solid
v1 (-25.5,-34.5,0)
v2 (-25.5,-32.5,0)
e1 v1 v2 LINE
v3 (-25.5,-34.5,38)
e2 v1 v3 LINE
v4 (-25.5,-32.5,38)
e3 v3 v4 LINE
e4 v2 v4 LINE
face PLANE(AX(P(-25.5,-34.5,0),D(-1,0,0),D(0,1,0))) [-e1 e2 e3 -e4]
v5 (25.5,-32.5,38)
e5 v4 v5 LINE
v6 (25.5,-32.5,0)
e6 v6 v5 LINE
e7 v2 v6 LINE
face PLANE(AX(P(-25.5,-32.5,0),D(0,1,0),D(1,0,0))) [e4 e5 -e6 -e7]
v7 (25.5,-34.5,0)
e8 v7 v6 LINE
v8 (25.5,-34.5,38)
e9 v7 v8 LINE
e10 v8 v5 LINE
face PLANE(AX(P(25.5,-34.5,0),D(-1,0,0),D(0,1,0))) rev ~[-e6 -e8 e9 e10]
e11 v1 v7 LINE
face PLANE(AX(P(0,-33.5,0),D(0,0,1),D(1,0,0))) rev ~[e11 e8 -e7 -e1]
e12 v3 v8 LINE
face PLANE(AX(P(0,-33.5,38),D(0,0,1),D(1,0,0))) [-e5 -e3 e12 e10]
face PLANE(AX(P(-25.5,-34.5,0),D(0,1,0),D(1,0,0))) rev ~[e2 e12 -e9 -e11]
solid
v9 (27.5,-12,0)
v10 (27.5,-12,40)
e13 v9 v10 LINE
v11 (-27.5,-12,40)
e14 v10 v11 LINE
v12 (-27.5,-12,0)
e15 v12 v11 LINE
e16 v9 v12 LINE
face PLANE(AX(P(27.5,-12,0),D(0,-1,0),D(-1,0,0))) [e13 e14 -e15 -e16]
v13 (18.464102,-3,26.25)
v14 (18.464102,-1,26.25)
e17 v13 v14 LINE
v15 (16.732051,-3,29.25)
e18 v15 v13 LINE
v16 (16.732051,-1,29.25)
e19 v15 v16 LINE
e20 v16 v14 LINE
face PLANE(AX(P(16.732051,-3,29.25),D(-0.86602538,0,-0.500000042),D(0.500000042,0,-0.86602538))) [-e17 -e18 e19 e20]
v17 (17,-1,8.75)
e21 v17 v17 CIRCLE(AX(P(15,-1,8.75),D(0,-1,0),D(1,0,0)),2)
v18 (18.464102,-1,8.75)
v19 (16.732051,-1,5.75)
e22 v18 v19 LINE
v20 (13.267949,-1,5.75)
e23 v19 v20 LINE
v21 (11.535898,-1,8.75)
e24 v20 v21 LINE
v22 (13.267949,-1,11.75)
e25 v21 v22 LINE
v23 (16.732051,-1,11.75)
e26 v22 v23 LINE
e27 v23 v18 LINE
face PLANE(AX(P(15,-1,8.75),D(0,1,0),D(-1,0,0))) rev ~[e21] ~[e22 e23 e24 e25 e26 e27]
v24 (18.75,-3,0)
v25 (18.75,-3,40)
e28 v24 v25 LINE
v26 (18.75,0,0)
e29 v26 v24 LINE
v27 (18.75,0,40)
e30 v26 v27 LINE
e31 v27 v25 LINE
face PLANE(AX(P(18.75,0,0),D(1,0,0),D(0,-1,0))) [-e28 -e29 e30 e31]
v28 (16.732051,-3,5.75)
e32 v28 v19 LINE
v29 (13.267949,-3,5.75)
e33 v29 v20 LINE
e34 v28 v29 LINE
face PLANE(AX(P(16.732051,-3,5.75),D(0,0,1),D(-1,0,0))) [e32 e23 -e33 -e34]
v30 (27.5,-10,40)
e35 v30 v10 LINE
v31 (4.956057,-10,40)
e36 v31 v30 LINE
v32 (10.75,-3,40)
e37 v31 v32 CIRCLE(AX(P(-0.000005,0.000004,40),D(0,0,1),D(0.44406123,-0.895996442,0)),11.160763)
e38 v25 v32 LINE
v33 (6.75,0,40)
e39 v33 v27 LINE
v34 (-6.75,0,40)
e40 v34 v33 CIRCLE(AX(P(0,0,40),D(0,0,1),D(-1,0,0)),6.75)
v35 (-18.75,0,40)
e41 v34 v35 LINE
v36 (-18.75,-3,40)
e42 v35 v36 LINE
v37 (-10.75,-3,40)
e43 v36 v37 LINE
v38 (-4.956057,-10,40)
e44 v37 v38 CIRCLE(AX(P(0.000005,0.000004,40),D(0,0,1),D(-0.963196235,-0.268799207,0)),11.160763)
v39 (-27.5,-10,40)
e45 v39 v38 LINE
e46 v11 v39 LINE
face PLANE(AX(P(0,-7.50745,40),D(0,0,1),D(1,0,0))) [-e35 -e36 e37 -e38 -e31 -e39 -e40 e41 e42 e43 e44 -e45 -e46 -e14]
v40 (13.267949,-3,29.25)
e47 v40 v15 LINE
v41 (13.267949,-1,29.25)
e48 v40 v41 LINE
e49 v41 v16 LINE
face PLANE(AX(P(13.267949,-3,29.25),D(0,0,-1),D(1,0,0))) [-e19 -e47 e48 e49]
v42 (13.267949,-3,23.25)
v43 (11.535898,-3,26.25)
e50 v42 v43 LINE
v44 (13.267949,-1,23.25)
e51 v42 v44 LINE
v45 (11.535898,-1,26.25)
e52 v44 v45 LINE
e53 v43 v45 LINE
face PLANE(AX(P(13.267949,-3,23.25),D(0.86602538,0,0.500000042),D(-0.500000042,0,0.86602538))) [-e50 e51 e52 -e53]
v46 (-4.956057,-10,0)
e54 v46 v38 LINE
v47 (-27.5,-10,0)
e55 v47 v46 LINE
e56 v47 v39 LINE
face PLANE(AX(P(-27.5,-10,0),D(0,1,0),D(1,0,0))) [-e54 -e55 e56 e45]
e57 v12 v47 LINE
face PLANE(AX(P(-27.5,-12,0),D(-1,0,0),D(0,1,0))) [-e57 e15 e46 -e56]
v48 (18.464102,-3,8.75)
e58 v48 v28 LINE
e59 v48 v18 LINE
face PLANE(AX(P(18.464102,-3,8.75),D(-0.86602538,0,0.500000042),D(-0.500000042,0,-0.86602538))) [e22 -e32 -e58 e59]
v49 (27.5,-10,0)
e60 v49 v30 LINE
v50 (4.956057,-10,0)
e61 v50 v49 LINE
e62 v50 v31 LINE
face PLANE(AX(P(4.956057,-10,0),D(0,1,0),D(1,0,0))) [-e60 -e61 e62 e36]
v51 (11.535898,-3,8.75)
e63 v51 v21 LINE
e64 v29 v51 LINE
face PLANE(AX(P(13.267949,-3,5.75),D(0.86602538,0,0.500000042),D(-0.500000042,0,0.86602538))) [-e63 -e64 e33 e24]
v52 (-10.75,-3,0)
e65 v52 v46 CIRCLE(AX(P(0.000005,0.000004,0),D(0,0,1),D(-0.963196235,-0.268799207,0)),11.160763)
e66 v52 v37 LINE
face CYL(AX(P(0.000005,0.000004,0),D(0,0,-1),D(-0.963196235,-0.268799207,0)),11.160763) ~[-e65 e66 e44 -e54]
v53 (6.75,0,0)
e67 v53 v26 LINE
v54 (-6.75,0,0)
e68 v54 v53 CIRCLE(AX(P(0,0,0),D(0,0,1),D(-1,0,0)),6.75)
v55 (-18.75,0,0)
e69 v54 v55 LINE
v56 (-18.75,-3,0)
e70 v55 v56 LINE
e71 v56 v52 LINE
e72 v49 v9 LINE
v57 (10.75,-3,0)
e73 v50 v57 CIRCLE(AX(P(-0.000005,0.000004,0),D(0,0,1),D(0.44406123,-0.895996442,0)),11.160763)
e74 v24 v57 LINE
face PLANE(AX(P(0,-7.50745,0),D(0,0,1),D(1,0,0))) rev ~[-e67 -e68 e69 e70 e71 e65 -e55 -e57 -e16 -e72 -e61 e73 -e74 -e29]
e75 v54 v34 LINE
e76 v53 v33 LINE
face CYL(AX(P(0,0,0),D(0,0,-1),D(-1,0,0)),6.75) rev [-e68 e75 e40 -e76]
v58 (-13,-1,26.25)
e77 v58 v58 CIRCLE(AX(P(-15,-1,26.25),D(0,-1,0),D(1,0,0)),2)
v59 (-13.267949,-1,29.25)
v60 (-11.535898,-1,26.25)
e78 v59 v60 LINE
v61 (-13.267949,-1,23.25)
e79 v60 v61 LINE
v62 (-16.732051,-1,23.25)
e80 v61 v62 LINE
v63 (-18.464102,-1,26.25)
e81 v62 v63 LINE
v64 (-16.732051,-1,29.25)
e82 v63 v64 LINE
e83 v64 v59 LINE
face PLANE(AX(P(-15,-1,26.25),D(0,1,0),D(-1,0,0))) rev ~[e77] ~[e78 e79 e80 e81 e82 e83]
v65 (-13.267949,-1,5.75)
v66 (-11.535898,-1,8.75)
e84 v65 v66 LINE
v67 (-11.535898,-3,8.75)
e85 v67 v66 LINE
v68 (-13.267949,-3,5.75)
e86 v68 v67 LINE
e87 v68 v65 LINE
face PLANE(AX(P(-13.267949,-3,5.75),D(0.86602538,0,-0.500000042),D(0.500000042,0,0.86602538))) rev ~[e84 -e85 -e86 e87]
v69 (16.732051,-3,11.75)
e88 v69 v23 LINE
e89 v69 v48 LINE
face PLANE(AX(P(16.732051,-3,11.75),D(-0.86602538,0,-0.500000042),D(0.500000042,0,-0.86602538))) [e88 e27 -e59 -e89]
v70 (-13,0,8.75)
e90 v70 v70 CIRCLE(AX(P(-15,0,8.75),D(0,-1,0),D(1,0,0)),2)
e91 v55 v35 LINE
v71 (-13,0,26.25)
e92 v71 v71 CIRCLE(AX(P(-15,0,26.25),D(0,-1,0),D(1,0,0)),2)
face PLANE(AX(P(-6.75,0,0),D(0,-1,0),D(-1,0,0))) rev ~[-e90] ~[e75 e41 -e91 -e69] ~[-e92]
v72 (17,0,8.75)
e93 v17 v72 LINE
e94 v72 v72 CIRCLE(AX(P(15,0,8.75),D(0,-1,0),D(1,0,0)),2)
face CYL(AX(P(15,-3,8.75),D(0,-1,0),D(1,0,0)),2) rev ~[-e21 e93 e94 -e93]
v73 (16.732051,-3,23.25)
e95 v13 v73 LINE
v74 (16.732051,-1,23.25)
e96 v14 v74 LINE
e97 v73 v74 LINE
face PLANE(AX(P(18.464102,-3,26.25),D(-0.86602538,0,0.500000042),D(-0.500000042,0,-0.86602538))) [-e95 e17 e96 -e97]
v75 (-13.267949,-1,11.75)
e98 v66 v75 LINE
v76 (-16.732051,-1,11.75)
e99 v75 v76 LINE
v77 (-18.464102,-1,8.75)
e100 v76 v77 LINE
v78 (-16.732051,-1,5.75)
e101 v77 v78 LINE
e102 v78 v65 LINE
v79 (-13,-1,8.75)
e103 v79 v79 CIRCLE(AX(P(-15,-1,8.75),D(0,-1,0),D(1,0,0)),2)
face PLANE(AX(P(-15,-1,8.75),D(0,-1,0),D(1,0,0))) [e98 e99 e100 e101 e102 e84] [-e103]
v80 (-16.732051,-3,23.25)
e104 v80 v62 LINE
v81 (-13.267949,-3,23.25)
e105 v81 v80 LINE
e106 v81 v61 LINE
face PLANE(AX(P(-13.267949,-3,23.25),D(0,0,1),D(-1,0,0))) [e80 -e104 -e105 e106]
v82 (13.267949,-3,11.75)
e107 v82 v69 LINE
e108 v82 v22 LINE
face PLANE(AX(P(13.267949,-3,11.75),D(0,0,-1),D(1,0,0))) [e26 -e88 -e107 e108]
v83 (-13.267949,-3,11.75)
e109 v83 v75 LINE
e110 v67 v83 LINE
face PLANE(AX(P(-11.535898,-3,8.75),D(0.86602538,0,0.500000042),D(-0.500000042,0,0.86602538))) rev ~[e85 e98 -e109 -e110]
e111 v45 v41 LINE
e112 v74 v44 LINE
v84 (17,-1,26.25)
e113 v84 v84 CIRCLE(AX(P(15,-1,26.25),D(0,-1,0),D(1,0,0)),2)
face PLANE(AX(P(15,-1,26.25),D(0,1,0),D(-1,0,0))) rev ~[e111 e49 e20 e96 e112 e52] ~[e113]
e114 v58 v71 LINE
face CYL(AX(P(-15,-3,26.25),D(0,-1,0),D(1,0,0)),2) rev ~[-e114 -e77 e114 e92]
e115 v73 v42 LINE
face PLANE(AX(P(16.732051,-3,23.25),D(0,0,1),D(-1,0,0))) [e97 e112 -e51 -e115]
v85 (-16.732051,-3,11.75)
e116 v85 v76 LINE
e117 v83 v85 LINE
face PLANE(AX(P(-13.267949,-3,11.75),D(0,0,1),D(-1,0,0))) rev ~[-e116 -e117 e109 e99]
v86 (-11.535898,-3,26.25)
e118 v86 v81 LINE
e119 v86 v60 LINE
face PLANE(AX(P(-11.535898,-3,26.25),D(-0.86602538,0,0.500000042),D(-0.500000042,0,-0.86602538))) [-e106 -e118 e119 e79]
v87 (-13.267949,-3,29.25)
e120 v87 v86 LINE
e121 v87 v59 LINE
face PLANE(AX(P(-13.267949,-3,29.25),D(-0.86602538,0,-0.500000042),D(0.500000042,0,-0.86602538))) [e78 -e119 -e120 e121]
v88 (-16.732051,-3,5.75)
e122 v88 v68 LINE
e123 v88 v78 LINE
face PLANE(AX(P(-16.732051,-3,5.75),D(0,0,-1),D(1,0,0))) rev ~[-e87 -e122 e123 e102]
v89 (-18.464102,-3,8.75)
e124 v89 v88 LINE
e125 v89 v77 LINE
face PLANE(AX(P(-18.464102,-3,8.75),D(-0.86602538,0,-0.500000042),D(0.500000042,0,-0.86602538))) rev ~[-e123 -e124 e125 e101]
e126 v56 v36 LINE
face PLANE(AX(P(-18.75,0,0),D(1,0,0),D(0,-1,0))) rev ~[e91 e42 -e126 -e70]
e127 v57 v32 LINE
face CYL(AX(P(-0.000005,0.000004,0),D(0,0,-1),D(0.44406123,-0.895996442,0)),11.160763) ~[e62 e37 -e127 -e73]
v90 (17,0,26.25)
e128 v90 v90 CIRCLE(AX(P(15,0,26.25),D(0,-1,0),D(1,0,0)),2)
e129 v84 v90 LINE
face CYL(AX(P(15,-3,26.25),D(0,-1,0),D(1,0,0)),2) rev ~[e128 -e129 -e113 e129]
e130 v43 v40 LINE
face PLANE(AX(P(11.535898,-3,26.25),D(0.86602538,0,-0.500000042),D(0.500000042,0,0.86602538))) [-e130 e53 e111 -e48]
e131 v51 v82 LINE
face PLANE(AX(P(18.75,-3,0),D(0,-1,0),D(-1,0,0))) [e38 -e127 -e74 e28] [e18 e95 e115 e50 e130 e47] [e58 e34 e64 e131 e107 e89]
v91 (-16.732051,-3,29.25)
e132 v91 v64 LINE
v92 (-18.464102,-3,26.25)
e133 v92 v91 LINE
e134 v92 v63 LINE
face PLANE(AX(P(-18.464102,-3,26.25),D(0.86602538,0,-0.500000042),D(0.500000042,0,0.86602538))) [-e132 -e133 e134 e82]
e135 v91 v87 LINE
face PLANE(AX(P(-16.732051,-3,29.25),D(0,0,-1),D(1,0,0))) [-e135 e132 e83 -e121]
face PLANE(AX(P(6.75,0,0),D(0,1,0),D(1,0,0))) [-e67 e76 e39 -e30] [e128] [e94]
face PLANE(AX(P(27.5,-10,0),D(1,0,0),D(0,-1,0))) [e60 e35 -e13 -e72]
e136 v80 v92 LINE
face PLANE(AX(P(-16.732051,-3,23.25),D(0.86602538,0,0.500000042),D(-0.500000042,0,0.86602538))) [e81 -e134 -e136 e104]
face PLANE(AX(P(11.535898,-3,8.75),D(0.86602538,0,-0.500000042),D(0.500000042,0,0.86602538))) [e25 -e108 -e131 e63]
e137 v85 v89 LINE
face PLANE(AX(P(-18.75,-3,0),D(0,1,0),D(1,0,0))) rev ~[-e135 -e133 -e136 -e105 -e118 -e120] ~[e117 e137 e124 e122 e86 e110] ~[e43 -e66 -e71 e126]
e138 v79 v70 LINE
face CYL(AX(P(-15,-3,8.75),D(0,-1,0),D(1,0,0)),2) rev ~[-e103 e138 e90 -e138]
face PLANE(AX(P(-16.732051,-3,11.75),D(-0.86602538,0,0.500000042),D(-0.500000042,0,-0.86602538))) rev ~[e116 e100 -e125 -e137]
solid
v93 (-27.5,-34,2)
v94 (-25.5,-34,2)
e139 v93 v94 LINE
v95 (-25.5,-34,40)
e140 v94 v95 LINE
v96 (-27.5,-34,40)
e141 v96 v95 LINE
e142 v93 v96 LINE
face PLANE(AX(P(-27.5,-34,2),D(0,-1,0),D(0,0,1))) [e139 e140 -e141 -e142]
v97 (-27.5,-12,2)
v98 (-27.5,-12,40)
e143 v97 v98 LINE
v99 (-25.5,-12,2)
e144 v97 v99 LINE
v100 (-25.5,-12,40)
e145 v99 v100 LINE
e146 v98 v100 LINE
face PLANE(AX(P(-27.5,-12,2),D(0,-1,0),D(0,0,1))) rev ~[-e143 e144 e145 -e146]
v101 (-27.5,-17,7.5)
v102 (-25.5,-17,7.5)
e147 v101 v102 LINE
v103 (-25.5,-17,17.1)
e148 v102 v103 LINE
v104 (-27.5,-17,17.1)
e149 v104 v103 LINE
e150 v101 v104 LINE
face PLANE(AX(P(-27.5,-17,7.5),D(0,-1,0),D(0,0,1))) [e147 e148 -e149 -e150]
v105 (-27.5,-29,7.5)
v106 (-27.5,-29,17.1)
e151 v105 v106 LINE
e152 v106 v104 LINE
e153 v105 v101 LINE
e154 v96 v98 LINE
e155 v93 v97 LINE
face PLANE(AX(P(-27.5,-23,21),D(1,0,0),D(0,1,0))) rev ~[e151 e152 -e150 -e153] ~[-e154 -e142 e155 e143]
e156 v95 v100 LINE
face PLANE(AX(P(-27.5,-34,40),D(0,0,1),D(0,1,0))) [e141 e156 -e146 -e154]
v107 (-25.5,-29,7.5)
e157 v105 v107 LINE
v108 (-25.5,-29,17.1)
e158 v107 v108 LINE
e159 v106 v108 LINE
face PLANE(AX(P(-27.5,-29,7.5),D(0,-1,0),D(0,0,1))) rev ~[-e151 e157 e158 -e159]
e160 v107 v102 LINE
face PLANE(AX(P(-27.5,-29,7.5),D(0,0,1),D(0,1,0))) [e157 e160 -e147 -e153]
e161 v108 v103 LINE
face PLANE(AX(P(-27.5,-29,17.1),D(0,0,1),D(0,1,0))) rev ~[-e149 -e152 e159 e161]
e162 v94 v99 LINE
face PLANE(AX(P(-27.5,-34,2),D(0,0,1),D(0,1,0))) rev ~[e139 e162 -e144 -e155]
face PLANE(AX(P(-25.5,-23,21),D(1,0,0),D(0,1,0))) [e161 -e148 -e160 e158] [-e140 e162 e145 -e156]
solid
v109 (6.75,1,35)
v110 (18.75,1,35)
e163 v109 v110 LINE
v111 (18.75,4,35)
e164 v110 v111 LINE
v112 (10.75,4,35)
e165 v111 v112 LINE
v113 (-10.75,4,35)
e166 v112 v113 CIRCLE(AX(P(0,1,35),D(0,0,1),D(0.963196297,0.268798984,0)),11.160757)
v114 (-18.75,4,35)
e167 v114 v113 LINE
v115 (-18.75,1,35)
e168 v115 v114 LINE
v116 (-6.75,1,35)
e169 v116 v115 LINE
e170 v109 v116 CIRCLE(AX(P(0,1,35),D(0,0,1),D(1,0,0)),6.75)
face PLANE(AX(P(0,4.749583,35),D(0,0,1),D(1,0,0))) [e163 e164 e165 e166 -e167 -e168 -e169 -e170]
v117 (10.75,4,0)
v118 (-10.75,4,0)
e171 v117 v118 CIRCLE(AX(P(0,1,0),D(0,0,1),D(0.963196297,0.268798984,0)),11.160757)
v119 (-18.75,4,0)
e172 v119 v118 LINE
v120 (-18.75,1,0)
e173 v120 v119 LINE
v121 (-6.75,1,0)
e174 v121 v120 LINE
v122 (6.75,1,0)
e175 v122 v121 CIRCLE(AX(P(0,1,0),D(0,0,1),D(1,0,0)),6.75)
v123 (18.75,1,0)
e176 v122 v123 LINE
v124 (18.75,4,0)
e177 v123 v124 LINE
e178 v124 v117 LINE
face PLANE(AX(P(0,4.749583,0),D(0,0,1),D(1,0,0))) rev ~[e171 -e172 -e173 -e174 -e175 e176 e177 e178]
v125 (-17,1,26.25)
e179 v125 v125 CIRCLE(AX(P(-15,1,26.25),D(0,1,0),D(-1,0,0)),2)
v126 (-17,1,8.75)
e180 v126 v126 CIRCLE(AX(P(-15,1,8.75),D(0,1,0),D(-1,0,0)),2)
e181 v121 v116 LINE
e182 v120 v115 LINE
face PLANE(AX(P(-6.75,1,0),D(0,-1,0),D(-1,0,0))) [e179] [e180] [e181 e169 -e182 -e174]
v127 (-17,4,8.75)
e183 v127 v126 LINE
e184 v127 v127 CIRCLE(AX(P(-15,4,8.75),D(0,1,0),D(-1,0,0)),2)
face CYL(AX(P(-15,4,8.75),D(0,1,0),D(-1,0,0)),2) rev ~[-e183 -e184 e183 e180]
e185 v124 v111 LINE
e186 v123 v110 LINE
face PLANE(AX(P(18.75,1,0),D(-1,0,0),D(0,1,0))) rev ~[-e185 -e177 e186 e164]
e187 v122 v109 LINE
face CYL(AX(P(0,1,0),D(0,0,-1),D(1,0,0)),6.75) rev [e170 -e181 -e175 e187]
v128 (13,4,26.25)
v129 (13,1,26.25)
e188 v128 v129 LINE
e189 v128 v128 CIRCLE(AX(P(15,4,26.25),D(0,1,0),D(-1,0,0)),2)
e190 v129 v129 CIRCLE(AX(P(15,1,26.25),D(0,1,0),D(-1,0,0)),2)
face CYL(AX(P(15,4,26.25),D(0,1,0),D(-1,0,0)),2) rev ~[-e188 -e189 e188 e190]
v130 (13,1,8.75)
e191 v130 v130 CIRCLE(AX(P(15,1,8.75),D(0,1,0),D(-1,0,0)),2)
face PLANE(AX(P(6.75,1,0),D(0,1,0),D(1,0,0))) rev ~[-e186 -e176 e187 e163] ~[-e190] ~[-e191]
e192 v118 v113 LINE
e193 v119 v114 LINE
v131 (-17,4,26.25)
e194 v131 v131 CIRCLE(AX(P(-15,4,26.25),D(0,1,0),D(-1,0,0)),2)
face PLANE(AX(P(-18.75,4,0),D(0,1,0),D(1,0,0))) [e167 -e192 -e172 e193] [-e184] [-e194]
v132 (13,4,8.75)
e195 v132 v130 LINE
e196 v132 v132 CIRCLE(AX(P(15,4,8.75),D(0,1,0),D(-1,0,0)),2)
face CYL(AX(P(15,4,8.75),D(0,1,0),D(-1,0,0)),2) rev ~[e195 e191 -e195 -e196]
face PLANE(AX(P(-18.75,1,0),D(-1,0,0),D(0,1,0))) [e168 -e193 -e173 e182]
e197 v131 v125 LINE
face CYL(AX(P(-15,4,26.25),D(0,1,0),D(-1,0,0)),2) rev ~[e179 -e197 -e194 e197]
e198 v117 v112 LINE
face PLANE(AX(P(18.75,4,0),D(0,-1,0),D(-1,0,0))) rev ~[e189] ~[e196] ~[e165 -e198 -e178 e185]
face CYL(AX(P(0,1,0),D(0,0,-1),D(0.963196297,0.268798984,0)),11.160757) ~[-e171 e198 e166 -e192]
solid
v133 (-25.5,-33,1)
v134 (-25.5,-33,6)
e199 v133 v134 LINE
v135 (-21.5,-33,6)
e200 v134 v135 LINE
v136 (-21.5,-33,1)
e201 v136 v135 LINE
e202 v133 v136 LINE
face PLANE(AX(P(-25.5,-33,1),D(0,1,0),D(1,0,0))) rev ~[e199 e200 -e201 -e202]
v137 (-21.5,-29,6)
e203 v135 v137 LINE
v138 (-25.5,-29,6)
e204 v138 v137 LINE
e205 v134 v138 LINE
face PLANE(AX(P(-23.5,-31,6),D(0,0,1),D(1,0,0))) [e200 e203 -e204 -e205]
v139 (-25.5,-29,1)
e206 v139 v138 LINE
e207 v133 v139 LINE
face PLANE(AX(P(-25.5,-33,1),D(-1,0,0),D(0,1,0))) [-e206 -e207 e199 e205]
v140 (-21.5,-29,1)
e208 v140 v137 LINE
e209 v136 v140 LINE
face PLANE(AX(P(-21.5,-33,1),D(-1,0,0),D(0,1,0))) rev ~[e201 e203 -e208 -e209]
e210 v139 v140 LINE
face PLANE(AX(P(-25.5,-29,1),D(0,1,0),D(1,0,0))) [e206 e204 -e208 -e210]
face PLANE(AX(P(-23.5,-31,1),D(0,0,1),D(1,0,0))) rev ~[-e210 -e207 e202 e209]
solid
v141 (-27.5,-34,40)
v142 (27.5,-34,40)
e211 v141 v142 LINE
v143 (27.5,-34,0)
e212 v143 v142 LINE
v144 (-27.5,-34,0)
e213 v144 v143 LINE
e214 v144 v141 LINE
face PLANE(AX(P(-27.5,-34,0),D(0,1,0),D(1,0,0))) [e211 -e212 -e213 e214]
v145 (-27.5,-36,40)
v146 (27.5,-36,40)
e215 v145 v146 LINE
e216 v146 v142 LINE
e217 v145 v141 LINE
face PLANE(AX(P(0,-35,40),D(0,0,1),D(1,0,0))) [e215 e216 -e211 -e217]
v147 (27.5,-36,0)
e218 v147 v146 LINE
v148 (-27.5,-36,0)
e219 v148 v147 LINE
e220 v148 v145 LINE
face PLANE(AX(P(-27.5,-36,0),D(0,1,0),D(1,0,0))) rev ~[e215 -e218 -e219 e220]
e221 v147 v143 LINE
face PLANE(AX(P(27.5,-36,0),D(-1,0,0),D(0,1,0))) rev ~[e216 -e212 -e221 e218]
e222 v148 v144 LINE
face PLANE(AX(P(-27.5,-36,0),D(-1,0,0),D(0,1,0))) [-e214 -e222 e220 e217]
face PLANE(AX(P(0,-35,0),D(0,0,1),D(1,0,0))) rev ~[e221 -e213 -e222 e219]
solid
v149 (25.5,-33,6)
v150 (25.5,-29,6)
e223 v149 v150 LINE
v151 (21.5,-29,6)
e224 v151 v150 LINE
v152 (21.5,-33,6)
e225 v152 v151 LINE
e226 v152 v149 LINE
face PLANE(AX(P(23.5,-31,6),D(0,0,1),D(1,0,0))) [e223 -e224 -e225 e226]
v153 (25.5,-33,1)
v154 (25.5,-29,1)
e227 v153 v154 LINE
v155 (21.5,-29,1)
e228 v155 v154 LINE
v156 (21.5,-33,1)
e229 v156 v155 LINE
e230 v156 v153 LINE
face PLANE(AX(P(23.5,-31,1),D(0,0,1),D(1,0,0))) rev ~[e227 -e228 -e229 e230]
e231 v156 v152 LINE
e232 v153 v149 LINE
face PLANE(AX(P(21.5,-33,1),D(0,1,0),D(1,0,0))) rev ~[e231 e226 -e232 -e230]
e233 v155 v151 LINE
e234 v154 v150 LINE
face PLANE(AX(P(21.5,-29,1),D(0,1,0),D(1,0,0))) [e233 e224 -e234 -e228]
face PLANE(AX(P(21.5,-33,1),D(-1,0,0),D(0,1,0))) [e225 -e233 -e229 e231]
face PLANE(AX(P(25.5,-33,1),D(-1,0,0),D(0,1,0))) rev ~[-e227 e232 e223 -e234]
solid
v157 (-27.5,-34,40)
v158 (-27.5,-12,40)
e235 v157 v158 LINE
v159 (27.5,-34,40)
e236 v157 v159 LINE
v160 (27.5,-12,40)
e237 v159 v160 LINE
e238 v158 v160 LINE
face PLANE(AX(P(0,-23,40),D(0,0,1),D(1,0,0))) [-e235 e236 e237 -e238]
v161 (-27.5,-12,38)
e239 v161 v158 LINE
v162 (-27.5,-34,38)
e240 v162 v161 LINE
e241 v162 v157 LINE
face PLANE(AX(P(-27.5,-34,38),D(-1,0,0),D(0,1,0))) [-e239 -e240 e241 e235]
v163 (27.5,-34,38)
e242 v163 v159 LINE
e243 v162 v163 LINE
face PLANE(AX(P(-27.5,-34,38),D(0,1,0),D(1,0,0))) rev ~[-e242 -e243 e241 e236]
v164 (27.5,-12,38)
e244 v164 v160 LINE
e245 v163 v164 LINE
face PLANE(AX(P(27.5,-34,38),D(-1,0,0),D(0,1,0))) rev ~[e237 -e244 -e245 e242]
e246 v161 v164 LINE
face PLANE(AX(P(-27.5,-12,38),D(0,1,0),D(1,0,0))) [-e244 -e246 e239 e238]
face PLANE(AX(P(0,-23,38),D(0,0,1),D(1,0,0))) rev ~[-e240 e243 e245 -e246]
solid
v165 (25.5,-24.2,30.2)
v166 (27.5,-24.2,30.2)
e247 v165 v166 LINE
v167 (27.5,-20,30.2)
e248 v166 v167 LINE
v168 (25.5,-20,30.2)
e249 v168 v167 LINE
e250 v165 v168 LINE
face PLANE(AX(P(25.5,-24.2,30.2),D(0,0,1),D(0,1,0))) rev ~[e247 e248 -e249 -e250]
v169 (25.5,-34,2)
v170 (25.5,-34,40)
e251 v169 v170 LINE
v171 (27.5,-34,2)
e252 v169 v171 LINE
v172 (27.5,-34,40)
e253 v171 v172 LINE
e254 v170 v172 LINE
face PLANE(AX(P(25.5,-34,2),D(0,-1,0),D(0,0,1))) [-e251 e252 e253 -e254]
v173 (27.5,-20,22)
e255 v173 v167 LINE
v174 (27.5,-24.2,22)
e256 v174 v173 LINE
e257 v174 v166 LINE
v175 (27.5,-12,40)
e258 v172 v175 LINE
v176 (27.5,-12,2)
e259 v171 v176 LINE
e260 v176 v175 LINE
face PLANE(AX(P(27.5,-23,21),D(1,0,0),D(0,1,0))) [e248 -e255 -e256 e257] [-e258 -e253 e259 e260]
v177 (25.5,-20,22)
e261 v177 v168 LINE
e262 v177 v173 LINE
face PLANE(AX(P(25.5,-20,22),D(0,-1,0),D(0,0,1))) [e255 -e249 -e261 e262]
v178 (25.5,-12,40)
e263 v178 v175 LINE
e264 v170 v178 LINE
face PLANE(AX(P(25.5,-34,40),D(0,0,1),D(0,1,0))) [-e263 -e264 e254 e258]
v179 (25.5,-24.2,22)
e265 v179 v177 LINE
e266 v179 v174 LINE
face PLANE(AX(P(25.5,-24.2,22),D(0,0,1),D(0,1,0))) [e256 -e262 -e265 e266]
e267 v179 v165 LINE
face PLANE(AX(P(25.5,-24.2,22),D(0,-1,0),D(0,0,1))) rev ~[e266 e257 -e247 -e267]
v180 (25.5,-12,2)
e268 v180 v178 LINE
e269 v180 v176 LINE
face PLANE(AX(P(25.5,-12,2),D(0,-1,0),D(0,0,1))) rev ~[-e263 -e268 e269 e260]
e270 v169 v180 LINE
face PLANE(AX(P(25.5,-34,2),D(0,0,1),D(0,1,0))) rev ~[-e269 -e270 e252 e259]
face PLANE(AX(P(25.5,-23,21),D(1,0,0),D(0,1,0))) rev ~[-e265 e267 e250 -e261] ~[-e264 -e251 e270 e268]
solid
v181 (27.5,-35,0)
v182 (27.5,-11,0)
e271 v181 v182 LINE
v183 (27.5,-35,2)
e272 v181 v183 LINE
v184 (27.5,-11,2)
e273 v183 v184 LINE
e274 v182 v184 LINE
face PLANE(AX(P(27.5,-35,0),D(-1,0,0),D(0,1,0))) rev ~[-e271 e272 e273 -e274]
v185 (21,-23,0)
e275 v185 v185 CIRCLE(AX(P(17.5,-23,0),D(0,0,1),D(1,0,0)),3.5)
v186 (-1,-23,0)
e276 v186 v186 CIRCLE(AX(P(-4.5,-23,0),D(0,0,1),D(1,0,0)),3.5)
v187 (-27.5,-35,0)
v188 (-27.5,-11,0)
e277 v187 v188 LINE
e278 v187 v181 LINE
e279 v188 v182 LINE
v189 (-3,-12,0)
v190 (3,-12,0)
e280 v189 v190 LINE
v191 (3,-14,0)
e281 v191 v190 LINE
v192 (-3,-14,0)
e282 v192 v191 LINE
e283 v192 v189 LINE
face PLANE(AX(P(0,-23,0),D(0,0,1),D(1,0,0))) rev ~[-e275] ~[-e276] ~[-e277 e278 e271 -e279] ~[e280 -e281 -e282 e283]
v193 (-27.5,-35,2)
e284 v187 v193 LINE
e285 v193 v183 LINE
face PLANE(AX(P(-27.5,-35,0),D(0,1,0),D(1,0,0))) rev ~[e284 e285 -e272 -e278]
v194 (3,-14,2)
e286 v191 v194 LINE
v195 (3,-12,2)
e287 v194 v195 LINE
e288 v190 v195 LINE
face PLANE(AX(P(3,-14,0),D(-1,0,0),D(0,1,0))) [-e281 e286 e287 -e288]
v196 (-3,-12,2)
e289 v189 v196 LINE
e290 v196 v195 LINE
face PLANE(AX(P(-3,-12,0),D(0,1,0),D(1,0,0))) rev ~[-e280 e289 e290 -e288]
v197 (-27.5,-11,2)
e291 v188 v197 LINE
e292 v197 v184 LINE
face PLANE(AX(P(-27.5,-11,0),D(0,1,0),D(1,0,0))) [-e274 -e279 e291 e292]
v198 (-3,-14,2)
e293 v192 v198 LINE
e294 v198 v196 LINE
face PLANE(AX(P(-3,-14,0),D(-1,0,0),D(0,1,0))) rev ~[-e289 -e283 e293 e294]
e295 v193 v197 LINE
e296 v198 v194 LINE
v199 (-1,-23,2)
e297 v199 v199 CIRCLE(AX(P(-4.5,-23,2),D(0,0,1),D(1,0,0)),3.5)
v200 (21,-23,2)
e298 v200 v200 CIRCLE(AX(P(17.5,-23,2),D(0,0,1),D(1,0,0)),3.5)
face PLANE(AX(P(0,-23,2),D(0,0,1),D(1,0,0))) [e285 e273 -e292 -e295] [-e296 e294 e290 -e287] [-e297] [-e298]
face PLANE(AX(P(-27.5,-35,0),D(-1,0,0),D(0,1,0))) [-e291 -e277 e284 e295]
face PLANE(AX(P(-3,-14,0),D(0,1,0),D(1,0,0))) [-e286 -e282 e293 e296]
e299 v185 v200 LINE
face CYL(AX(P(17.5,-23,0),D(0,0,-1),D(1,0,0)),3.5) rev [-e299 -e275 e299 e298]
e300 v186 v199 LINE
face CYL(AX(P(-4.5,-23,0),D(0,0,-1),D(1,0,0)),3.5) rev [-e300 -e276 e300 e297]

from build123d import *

# Parameters (mm, degrees)
SKETCH_W        = 55
SKETCH_H        = 24
SKETCH_R        = 3.5
SKETCH_W_2      = 6
SKETCH_H_2      = 2
PAD001_DEPTH    = 2
SKETCH002_W     = 55
SKETCH002_H     = 2
PAD002_DEPTH    = 40
SKETCH003_W     = 51
SKETCH003_H     = 2
PAD003_DEPTH    = 38
SKETCH004_W     = 4
SKETCH004_H     = 4
PAD004_DEPTH    = 5
SKETCH005_W     = 4
SKETCH005_H     = 4
PAD005_DEPTH    = 5
PAD_DEPTH       = 35
SKETCH006_R     = 2
POCKET_DEPTH    = 3
PAD006_DEPTH    = 40
SKETCH009_R     = 2
POCKET001_DEPTH = 3
POCKET002_DEPTH = 2
SKETCH011_W     = 55
SKETCH011_H     = 22
PAD007_DEPTH    = 2
SKETCH012_W     = 22
SKETCH012_H     = 38
SKETCH012_W_2   = 4.2
SKETCH012_H_2   = 8.2
PAD008_DEPTH    = 2
SKETCH014_W     = 22
SKETCH014_H     = 38
SKETCH014_W_2   = 12
SKETCH014_H_2   = 9.6
PAD009_DEPTH    = 2


with BuildPart() as top:
    # Sketch → Pad001 (new body)
    with BuildSketch(Plane(origin=(0, -23, 0), x_dir=(1, 0, 0), z_dir=(0, 0, 1))):
        Rectangle(SKETCH_W, SKETCH_H)
        with Locations((17.5, 0)):
            Circle(SKETCH_R, mode=Mode.SUBTRACT)
        with Locations((-4.5, 0)):
            Circle(SKETCH_R, mode=Mode.SUBTRACT)
        with Locations((0, 10)):
            Rectangle(SKETCH_W_2, SKETCH_H_2, mode=Mode.SUBTRACT)
    extrude(amount=PAD001_DEPTH)


with BuildPart() as side_opposite_mount:
    # Sketch002 → Pad002 (new body)
    with BuildSketch(Plane(origin=(0, -35, 0), x_dir=(1, 0, 0), z_dir=(0, 0, 1))):
        Rectangle(SKETCH002_W, SKETCH002_H)
    extrude(amount=PAD002_DEPTH)


with BuildPart() as ledge_for_bottom_sides_cover:
    # Sketch003 → Pad003 (new body)
    with BuildSketch(Plane(origin=(0, -33.5, 0), x_dir=(1, 0, 0), z_dir=(0, 0, 1))):
        Rectangle(SKETCH003_W, SKETCH003_H)
    extrude(amount=PAD003_DEPTH)


with BuildPart() as screw_right:
    # Sketch004 → Pad004 (new body)
    with BuildSketch(Plane(origin=(-23.5, -31, 1), x_dir=(1, 0, 0), z_dir=(0, 0, 1))):
        Rectangle(SKETCH004_W, SKETCH004_H)
    extrude(amount=PAD004_DEPTH)


with BuildPart() as screw_left:
    # Sketch005 → Pad005 (new body)
    with BuildSketch(Plane(origin=(23.5, -31, 1), x_dir=(1, 0, 0), z_dir=(0, 0, 1))):
        Rectangle(SKETCH005_W, SKETCH005_H)
    extrude(amount=PAD005_DEPTH)


with BuildPart() as mount_clip_pocket:
    # Sketch008 → Pad (new body)
    with BuildSketch(Plane(origin=(0, 1, 0), x_dir=(1, 0, 0), z_dir=(0, 0, 1))):
        with BuildLine():
            Line((6.75, 0), (18.75, 0))
            Line((18.75, 0), (18.75, 3))
            Line((18.75, 3), (10.75, 3))
            ThreePointArc((10.75, 3), (0, 11.160757), (-10.75, 3))
            Line((-18.75, 3), (-10.75, 3))
            Line((-18.75, 0), (-18.75, 3))
            Line((-6.75, 0), (-18.75, 0))
            ThreePointArc((6.75, 0), (0, 6.75), (-6.75, 0))
        make_face()
    extrude(amount=PAD_DEPTH)

    # Sketch006 → Pocket (cut)
    with BuildSketch(Plane(origin=(0, 4, 0), x_dir=(-1, 0, 0), z_dir=(0, 1, 0))):
        with Locations((15, 8.75)):
            Circle(SKETCH006_R)
        with Locations((-15, 8.75)):
            Circle(SKETCH006_R)
        with Locations((-15, 26.25)):
            Circle(SKETCH006_R)
        with Locations((15, 26.25)):
            Circle(SKETCH006_R)
    extrude(amount=-POCKET_DEPTH, mode=Mode.SUBTRACT)


with BuildPart() as pocket002:
    # Sketch001 → Pad006 (new body)
    with BuildSketch(Plane.XY):
        with BuildLine():
            Line((-6.75, 0), (-18.75, 0))
            Line((-18.75, 0), (-18.75, -3))
            Line((-18.75, -3), (-10.75, -3))
            ThreePointArc((-10.75, -3), (-8.597677, -7.11635), (-4.956057, -10))
            Line((-27.5, -10), (-4.956057, -10))
            Line((-27.5, -12), (-27.5, -10))
            Line((27.5, -12), (-27.5, -12))
            Line((27.5, -10), (27.5, -12))
            Line((4.956057, -10), (27.5, -10))
            ThreePointArc((4.956057, -10), (8.597677, -7.11635), (10.75, -3))
            Line((18.75, -3), (10.75, -3))
            Line((18.75, 0), (18.75, -3))
            Line((6.75, 0), (18.75, 0))
            ThreePointArc((-6.75, 0), (0, -6.75), (6.75, 0))
        make_face()
    extrude(amount=PAD006_DEPTH)

    # Sketch009 → Pocket001 (cut)
    with BuildSketch(Plane.XZ.offset(3)):
        with Locations((15, 8.75)):
            Circle(SKETCH009_R)
        with Locations((-15, 8.75)):
            Circle(SKETCH009_R)
        with Locations((-15, 26.25)):
            Circle(SKETCH009_R)
        with Locations((15, 26.25)):
            Circle(SKETCH009_R)
    extrude(amount=-POCKET001_DEPTH, mode=Mode.SUBTRACT)

    # Sketch010 → Pocket002 (cut)
    with BuildSketch(Plane.XZ.offset(3)):
        Polygon((-16.732051, 29.25), (-13.267949, 29.25), (-11.535898, 26.25), (-13.267949, 23.25), (-16.732051, 23.25), (-18.464102, 26.25), align=None)
        Polygon((11.535898, 26.25), (13.267949, 29.25), (16.732051, 29.25), (18.464102, 26.25), (16.732051, 23.25), (13.267949, 23.25), align=None)
        Polygon((13.267949, 11.75), (16.732051, 11.75), (18.464102, 8.75), (16.732051, 5.75), (13.267949, 5.75), (11.535898, 8.75), align=None)
        Polygon((-11.535898, 8.75), (-13.267949, 11.75), (-16.732051, 11.75), (-18.464102, 8.75), (-16.732051, 5.75), (-13.267949, 5.75), align=None)
    extrude(amount=-POCKET002_DEPTH, mode=Mode.SUBTRACT)


with BuildPart() as cover_bottom:
    # Sketch011 → Pad007 (new body)
    with BuildSketch(Plane(origin=(0, -23, 38), x_dir=(1, 0, 0), z_dir=(0, 0, 1))):
        Rectangle(SKETCH011_W, SKETCH011_H)
    extrude(amount=PAD007_DEPTH)


with BuildPart() as cover_side_usb:
    # Sketch012 → Pad008 (new body)
    with BuildSketch(Plane(origin=(25.5, -23, 21), x_dir=(0, 1, 0), z_dir=(1, 0, 0))):
        Rectangle(SKETCH012_W, SKETCH012_H)
        with Locations((0.9, 5.1)):
            Rectangle(SKETCH012_W_2, SKETCH012_H_2, mode=Mode.SUBTRACT)
    extrude(amount=PAD008_DEPTH)


with BuildPart() as cover_side_power:
    # Sketch014 → Pad009 (new body)
    with BuildSketch(Plane(origin=(-27.5, -23, 21), x_dir=(0, 1, 0), z_dir=(1, 0, 0))):
        Rectangle(SKETCH014_W, SKETCH014_H)
        with Locations((0, -8.7)):
            Rectangle(SKETCH014_W_2, SKETCH014_H_2, mode=Mode.SUBTRACT)
    extrude(amount=PAD009_DEPTH)


solid = Compound([top.part, side_opposite_mount.part, ledge_for_bottom_sides_cover.part, screw_right.part, screw_left.part, mount_clip_pocket.part, pocket002.part, cover_bottom.part, cover_side_usb.part, cover_side_power.part])
